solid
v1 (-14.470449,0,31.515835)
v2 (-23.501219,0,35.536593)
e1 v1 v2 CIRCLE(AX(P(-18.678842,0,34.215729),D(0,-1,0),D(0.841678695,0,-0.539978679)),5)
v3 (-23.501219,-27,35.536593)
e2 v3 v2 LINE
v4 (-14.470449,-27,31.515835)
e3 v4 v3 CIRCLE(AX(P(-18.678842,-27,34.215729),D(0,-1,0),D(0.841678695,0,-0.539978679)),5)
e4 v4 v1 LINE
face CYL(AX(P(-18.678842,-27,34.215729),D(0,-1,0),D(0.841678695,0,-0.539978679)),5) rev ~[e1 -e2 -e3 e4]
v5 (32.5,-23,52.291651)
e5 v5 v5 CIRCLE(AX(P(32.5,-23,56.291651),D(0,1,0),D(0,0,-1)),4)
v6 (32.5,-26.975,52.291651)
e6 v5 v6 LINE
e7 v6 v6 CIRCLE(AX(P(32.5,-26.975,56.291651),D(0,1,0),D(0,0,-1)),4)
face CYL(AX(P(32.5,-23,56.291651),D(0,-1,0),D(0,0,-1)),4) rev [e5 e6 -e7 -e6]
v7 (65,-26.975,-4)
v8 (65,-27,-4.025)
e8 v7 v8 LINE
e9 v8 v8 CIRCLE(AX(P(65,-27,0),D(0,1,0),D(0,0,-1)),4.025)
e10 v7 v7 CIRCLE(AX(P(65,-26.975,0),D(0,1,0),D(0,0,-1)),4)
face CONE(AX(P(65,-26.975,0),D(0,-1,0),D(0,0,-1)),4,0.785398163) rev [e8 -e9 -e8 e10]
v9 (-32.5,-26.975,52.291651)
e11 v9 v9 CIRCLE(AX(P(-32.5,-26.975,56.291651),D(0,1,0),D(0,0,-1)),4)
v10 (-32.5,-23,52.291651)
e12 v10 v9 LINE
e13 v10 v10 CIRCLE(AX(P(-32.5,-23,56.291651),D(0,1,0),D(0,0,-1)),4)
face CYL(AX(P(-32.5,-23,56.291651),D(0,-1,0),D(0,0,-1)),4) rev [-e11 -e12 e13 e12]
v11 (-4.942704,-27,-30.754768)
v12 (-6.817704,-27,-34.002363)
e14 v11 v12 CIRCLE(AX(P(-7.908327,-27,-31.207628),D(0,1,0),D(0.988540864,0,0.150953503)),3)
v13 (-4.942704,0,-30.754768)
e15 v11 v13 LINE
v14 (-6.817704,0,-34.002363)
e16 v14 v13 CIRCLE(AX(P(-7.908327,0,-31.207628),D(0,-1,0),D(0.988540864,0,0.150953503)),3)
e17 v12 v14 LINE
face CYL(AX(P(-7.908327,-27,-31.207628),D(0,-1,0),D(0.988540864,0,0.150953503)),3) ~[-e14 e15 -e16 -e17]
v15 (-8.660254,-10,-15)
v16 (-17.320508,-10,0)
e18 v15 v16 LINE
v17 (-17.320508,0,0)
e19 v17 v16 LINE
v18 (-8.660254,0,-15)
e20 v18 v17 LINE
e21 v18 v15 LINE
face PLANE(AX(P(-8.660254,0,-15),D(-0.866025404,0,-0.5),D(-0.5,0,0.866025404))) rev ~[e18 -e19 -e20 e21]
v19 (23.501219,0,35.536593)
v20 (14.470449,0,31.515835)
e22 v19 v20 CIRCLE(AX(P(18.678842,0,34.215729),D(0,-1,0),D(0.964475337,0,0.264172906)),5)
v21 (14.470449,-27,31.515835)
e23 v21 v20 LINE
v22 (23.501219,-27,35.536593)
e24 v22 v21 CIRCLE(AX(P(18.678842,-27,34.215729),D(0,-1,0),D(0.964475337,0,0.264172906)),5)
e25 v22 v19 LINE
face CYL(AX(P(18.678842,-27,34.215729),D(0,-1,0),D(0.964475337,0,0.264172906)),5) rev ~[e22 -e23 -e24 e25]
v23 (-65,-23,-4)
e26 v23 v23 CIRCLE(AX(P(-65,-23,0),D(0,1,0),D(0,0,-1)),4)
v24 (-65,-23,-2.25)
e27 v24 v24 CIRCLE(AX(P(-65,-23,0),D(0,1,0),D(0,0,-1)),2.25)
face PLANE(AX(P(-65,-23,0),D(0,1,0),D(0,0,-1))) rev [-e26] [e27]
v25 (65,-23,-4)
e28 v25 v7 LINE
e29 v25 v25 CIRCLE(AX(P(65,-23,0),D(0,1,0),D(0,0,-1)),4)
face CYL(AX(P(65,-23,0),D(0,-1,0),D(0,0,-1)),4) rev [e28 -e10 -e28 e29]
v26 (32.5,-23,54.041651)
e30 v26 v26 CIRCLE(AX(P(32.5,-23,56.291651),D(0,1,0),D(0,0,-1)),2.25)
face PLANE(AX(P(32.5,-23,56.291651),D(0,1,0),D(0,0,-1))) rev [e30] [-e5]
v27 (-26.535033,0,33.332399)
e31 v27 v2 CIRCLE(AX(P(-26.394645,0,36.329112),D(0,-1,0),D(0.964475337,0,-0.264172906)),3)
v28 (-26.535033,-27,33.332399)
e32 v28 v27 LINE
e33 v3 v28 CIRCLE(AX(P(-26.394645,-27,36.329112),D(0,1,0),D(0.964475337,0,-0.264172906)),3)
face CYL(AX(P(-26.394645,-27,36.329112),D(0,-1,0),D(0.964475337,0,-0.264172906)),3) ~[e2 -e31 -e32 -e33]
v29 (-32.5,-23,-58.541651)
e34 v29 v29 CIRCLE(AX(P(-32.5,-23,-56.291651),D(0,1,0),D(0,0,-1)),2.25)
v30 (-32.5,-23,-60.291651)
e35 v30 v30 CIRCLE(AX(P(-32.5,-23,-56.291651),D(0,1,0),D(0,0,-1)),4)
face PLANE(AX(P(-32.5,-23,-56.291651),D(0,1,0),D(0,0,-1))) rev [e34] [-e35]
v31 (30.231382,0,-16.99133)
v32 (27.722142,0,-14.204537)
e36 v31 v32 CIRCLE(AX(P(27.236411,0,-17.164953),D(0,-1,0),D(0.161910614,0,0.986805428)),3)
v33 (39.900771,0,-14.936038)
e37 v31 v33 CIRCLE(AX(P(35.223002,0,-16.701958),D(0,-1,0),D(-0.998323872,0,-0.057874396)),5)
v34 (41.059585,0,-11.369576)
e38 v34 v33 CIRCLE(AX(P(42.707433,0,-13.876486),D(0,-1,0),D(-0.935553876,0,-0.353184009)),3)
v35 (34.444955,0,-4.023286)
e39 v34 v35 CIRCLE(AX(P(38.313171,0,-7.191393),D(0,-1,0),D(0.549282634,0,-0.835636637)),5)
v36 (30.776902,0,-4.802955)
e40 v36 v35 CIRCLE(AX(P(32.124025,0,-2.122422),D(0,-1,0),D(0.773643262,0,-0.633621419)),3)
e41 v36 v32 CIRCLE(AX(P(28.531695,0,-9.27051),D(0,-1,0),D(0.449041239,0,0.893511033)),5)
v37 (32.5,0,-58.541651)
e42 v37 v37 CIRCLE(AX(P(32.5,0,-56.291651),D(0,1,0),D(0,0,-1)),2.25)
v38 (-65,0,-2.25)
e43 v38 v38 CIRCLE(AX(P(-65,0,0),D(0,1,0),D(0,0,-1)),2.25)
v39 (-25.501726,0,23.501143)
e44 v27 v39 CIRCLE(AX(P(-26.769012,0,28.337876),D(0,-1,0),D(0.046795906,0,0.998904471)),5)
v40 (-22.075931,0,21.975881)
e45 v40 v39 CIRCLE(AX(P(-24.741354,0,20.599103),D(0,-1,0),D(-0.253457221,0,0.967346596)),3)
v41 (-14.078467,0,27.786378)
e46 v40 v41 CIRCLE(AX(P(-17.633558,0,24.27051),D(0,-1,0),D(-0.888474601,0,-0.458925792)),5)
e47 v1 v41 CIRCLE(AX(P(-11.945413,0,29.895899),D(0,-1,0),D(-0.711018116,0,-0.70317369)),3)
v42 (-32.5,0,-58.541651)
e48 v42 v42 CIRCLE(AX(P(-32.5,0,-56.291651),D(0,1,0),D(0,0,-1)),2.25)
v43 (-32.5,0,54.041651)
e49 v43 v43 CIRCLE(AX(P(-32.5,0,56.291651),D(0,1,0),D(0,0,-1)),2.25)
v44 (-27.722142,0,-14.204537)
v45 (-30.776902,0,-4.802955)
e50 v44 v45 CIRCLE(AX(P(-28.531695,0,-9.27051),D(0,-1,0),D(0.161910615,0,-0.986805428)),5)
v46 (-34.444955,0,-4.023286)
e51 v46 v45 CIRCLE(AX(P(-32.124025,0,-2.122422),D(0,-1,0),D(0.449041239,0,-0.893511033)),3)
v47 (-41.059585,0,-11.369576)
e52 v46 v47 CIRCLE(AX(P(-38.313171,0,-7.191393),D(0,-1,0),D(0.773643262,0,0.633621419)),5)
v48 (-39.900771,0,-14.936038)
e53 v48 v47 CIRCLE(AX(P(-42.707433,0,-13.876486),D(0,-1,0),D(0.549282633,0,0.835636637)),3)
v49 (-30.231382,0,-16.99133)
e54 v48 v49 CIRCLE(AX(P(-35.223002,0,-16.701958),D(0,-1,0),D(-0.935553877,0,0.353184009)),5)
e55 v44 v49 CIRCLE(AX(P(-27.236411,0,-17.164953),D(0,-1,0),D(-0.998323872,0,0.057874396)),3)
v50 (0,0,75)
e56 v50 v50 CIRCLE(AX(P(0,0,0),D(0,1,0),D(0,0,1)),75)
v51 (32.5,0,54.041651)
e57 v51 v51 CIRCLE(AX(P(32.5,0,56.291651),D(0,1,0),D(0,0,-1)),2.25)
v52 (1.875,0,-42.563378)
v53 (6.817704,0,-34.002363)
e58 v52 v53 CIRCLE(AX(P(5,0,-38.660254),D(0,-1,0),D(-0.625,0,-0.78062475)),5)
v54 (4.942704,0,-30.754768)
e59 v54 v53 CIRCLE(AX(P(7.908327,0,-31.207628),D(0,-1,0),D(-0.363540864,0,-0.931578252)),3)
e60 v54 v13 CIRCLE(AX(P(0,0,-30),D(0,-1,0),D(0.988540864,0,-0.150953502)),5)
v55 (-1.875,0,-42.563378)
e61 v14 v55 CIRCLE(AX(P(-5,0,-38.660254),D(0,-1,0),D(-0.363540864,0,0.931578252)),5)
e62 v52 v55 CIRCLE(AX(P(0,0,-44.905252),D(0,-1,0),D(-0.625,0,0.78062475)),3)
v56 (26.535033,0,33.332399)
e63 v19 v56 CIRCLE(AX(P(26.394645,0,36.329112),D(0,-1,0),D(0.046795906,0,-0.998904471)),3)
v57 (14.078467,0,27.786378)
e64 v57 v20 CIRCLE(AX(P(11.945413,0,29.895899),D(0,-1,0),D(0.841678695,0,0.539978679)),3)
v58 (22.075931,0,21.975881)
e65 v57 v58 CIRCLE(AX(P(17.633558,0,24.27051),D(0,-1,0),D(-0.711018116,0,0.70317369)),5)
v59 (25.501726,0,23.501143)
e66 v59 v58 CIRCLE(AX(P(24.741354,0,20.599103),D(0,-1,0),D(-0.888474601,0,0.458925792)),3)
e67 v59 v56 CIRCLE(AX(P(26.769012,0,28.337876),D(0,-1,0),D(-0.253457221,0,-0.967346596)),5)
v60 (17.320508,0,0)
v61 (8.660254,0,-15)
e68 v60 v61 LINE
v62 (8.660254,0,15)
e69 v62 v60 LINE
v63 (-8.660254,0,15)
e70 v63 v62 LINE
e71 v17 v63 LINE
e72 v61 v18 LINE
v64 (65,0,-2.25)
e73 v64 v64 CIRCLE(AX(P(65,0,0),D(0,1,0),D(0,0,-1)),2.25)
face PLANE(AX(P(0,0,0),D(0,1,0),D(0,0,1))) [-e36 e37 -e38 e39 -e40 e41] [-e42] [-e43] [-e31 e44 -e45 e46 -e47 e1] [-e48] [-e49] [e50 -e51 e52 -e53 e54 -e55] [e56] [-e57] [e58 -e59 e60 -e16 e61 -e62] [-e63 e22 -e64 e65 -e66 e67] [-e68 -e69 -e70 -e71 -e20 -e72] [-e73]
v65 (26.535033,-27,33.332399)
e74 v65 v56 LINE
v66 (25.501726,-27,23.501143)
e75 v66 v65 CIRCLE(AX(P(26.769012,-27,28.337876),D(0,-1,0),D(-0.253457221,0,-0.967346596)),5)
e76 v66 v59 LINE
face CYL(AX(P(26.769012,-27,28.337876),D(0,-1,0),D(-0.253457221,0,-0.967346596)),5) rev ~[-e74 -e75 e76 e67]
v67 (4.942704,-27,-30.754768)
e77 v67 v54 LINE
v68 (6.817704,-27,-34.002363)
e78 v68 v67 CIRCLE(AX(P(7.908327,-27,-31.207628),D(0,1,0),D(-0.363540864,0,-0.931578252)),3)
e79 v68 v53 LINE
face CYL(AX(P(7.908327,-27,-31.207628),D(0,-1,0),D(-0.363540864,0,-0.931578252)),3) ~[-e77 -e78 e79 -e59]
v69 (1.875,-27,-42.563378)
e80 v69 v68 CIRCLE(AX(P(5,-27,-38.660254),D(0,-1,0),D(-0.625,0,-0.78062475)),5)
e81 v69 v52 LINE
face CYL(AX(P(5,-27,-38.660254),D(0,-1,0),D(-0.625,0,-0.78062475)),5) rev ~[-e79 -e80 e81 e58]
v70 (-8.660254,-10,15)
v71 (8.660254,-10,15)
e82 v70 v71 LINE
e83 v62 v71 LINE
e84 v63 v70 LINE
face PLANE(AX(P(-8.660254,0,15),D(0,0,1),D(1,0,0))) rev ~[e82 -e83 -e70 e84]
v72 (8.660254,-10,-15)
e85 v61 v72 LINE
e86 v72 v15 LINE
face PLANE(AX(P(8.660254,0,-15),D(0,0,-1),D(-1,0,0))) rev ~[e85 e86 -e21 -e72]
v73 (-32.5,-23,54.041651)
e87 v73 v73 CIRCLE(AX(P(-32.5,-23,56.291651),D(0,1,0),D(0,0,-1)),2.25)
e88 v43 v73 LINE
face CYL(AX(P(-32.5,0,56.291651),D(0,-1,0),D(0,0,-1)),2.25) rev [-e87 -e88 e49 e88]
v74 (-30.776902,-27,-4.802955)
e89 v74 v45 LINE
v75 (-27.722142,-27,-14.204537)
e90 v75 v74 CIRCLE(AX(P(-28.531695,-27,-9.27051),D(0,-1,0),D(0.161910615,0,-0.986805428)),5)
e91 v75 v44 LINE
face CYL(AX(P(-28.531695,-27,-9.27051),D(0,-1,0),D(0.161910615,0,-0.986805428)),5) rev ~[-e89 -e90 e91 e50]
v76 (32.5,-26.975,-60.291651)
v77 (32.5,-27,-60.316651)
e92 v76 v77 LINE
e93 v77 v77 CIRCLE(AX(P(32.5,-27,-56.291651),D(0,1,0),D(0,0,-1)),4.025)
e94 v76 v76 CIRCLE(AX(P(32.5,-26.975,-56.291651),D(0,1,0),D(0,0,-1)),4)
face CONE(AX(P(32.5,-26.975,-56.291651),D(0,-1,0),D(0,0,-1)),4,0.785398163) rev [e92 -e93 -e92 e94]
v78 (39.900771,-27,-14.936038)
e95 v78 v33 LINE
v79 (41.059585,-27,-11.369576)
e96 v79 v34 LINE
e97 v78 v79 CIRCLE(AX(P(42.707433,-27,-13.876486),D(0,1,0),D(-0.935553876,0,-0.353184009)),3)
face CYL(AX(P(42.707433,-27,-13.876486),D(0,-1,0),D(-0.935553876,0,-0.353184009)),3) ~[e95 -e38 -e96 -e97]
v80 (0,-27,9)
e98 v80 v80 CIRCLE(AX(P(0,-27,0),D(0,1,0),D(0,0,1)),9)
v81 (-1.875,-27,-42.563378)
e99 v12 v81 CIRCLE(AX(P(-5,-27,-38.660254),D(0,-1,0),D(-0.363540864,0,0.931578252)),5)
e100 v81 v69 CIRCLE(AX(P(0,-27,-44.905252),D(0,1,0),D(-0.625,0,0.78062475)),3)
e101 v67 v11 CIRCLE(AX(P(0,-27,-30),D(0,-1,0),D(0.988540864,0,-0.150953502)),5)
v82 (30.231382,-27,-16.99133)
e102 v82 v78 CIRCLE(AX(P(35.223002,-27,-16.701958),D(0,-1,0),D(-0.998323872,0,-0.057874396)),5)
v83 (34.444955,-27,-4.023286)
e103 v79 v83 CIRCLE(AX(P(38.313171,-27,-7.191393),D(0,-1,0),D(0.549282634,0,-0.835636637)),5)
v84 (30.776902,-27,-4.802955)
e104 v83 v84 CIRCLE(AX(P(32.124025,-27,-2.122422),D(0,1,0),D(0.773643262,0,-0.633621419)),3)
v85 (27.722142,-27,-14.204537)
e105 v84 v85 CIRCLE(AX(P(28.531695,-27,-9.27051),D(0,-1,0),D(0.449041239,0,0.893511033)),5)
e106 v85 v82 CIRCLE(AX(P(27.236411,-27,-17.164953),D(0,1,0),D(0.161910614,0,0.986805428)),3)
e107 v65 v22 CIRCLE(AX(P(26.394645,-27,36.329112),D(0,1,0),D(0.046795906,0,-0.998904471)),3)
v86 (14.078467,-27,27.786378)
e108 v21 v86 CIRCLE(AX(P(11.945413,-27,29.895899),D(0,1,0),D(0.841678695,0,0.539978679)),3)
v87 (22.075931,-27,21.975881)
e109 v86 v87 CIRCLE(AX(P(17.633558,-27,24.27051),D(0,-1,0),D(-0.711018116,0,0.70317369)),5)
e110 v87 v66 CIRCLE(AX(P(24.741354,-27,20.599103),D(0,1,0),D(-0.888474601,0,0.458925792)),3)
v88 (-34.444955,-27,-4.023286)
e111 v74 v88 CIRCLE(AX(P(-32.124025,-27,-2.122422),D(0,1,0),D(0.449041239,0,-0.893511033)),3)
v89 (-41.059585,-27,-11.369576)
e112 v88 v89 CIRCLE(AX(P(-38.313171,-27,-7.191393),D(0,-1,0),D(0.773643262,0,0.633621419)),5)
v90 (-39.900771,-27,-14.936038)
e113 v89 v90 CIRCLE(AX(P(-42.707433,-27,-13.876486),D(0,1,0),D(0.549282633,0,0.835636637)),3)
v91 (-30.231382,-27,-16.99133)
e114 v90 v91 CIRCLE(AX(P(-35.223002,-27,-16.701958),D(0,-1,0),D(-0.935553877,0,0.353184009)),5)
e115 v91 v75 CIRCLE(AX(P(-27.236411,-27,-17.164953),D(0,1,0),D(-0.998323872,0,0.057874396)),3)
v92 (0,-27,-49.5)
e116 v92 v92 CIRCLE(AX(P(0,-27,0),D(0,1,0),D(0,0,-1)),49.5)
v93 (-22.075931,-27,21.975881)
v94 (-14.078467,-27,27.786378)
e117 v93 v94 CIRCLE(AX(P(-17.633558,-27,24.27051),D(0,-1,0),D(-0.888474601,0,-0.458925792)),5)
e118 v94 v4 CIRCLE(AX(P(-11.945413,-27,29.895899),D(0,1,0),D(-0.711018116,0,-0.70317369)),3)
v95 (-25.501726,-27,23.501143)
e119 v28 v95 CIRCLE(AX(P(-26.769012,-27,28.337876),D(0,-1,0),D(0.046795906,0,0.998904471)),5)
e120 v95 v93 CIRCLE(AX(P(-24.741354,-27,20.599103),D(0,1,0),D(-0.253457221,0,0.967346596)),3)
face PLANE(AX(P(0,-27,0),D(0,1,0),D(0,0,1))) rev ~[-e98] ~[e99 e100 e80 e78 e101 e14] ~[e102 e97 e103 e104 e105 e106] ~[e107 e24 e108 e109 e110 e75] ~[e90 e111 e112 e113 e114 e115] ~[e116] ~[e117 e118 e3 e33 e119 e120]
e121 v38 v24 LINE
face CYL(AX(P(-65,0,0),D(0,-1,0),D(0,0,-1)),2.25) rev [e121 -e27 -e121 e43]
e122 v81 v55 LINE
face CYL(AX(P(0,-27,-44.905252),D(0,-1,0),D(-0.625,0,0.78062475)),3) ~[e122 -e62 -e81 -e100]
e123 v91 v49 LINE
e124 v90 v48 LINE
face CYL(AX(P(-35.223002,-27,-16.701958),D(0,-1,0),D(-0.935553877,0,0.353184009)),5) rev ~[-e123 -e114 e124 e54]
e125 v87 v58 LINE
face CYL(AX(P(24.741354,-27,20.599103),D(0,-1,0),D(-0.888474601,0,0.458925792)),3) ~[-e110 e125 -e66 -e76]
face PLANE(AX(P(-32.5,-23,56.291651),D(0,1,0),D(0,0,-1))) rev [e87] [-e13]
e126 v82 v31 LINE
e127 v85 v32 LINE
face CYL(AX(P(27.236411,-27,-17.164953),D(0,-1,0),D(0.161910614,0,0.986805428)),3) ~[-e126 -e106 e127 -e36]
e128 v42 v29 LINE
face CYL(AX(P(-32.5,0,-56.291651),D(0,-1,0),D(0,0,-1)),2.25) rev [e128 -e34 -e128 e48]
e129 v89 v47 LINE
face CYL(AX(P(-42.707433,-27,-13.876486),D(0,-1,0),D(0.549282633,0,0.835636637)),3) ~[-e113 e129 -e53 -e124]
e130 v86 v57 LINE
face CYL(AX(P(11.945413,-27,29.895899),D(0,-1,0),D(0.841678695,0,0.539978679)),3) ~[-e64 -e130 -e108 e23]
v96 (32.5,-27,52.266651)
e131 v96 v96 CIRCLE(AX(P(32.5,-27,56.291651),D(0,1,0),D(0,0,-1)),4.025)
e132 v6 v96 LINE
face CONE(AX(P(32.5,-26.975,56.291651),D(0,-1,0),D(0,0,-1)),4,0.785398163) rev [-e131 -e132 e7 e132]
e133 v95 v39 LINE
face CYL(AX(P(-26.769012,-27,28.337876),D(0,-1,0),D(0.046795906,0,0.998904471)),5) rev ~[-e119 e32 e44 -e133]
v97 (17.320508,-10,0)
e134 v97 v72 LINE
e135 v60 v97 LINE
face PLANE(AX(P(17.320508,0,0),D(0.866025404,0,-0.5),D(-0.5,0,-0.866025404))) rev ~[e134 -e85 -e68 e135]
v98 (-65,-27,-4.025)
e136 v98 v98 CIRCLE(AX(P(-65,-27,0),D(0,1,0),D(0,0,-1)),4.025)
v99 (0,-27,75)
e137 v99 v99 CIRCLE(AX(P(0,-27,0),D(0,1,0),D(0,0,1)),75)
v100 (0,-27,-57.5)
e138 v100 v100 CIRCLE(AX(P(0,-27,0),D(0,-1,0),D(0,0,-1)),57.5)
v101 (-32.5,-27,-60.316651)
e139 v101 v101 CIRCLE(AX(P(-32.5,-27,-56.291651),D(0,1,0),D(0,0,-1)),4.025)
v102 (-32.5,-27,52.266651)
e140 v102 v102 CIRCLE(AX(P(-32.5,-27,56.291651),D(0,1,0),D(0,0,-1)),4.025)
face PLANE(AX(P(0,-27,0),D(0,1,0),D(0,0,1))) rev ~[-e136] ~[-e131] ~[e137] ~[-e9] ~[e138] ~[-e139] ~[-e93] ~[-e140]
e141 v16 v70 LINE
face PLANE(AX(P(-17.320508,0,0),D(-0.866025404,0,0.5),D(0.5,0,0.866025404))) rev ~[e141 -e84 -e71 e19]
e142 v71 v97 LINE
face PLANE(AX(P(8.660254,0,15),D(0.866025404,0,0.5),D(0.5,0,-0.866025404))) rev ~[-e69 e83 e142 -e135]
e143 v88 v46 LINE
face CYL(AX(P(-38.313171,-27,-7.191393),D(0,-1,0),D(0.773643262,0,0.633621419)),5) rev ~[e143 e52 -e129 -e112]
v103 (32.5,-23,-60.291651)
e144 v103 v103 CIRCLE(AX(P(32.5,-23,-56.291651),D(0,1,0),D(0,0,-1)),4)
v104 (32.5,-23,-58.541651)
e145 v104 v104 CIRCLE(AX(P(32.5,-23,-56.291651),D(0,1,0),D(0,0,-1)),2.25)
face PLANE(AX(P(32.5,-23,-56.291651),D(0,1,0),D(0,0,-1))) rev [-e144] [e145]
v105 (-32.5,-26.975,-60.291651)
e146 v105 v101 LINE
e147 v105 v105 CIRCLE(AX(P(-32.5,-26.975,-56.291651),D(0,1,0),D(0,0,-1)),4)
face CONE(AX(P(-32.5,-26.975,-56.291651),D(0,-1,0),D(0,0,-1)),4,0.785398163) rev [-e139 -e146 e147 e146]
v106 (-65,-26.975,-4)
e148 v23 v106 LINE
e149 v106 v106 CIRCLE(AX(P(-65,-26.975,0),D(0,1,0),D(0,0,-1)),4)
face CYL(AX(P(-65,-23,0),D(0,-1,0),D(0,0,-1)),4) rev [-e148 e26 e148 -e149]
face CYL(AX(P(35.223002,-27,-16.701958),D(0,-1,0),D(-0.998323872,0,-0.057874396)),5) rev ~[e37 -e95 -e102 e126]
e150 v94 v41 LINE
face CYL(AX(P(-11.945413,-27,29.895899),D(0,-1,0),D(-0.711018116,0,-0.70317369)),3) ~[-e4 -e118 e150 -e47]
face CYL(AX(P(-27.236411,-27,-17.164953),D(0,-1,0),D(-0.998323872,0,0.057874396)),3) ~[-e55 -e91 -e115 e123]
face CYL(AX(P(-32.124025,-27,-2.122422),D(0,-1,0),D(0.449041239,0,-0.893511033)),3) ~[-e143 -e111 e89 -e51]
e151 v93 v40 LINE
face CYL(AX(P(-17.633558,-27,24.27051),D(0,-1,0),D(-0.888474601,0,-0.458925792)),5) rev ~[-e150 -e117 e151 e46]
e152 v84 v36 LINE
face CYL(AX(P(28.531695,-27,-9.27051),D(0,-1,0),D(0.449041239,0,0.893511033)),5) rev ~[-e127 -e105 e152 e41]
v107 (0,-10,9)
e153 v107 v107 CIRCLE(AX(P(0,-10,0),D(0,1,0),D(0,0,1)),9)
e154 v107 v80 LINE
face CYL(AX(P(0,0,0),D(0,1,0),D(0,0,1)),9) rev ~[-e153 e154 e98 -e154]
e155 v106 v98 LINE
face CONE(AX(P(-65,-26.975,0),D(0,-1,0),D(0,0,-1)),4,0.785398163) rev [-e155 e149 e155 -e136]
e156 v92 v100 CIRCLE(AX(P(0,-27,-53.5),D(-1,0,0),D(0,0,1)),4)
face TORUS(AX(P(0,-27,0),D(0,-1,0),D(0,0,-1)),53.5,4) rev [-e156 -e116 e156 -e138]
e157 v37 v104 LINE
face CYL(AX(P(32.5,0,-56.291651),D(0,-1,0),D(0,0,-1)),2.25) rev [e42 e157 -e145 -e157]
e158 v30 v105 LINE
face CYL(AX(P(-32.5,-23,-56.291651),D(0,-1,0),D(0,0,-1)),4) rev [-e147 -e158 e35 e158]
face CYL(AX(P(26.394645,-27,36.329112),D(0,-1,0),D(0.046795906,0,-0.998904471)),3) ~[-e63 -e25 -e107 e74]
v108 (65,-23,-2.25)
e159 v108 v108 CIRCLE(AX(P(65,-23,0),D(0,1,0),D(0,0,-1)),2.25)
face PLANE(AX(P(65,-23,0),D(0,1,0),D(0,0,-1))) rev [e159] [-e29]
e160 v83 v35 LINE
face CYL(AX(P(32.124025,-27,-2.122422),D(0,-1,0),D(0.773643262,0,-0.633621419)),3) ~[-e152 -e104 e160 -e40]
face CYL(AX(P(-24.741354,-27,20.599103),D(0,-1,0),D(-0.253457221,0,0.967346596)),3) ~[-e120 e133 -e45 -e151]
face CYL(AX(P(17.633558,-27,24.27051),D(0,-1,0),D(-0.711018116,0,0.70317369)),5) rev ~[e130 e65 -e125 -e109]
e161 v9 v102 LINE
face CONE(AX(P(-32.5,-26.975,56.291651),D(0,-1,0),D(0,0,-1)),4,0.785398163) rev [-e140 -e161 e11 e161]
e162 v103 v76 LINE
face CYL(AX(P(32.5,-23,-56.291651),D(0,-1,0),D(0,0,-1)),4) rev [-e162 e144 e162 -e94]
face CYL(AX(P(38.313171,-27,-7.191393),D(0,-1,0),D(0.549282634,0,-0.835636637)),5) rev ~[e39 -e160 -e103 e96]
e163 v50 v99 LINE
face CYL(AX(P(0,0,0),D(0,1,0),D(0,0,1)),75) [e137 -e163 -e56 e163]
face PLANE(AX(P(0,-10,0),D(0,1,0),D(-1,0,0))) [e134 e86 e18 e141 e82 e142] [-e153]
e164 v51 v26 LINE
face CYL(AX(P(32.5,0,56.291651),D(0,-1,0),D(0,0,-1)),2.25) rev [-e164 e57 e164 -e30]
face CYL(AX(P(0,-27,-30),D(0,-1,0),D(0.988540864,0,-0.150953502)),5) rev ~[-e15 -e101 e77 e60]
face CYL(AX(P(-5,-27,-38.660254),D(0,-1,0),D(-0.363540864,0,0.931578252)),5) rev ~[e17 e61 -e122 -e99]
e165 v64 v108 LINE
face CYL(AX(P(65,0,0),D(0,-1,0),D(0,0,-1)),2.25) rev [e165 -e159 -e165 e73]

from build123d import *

# Parameters (mm, degrees)
SKETCH1_R                             = 75
BLOCO_DEPTH                           = 27
SKETCH2_R                             = 9
FURO_CENTRAL_18_PASSANTE_DEPTH        = 110.448618082
SKETCH2_3_R                           = 9
ENCAIXE_DO_EIXO_DEPTH                 = 10
REBAIXO_FUROS_DE_FIXA_O_M4_AT_2_COUNT = 2
REBAIXO_FUROS_DE_FIXA_O_M4_AT_2_PITCH = 65
REBAIXO_FUROS_DE_FIXA_O_M4_AT_3_COUNT = 2
REBAIXO_FUROS_DE_FIXA_O_M4_AT_3_PITCH = 112.583302492
REBAIXO_FUROS_DE_FIXA_O_M4_AT_4_COUNT = 2
REBAIXO_FUROS_DE_FIXA_O_M4_AT_4_PITCH = 130
REBAIXO_FUROS_DE_FIXA_O_M4_AT_5_COUNT = 2
REBAIXO_FUROS_DE_FIXA_O_M4_AT_5_PITCH = 112.583302492
REBAIXO_FUROS_DE_FIXA_O_M4_AT_6_COUNT = 2
REBAIXO_FUROS_DE_FIXA_O_M4_AT_6_PITCH = 65
RASGO_DIMENSIONADO_DEPTH              = 110.448618082
RASGOS_COUNT                          = 5
SKETCH7_R                             = 4


with BuildPart() as part:
    # Sketch1 → Bloco (new body)
    with BuildSketch(Plane(origin=(0, 0, 0), x_dir=(1, 0, 0), z_dir=(0, 1, 0))):
        Circle(SKETCH1_R)
    extrude(amount=-BLOCO_DEPTH)

    # Sketch2 → Furo Central - Ø18 Passante (cut, through all)
    with BuildSketch(Plane(origin=(0, 0, 0), x_dir=(-1, 0, 0), z_dir=(0, 1, 0))):
        Circle(SKETCH2_R)
    extrude(amount=-FURO_CENTRAL_18_PASSANTE_DEPTH, mode=Mode.SUBTRACT)

    # Sketch2<3> → Encaixe do Eixo (cut)
    with BuildSketch(Plane(origin=(0, 0, 0), x_dir=(-1, 0, 0), z_dir=(0, 1, 0))):
        Polygon((-8.660254038, 15), (-17.320508076, 0), (-8.660254038, -15), (8.660254038, -15), (17.320508076, 0), (8.660254038, 15), align=None)
        Circle(SKETCH2_3_R, mode=Mode.SUBTRACT)
    extrude(amount=-ENCAIXE_DO_EIXO_DEPTH, mode=Mode.SUBTRACT)

    # Sketch5 → Rebaixo - Furos de Fixação M4 (revolve, cut)
    with BuildSketch(Plane(origin=(32.5, -27, -56.291651246), x_dir=(0, 0, -1), z_dir=(1, 0, 0))):
        Polygon((0, 0), (0, 27), (2.25, 27), (2.25, 4), (4, 4), (4, 0.025), (4.025, 0), align=None)
    rebaixo_furos_de_fixa_o_m4 = revolve(axis=Axis((32.5, -33.35, -56.291651246), (0, 1, 0)), mode=Mode.SUBTRACT)

    # Rebaixo - Furos de Fixação M4 at 2: Rebaixo - Furos de Fixação M4 ×2
    with Locations(*[(-i * REBAIXO_FUROS_DE_FIXA_O_M4_AT_2_PITCH, 0, 0) for i in range(1, REBAIXO_FUROS_DE_FIXA_O_M4_AT_2_COUNT)]):
        add(rebaixo_furos_de_fixa_o_m4, mode=Mode.SUBTRACT)

    # Rebaixo - Furos de Fixação M4 at 3: Rebaixo - Furos de Fixação M4 ×2
    with Locations(*[Vector(-0.866025403784438, 0, 0.5000000000000011) * (i * REBAIXO_FUROS_DE_FIXA_O_M4_AT_3_PITCH) for i in range(1, REBAIXO_FUROS_DE_FIXA_O_M4_AT_3_COUNT)]):
        add(rebaixo_furos_de_fixa_o_m4, mode=Mode.SUBTRACT)

    # Rebaixo - Furos de Fixação M4 at 4: Rebaixo - Furos de Fixação M4 ×2
    with Locations(*[Vector(-0.4999999999999989, 0, 0.8660254037844394) * (i * REBAIXO_FUROS_DE_FIXA_O_M4_AT_4_PITCH) for i in range(1, REBAIXO_FUROS_DE_FIXA_O_M4_AT_4_COUNT)]):
        add(rebaixo_furos_de_fixa_o_m4, mode=Mode.SUBTRACT)

    # Rebaixo - Furos de Fixação M4 at 5: Rebaixo - Furos de Fixação M4 ×2
    with Locations(*[(0, 0, i * REBAIXO_FUROS_DE_FIXA_O_M4_AT_5_PITCH) for i in range(1, REBAIXO_FUROS_DE_FIXA_O_M4_AT_5_COUNT)]):
        add(rebaixo_furos_de_fixa_o_m4, mode=Mode.SUBTRACT)

    # Rebaixo - Furos de Fixação M4 at 6: Rebaixo - Furos de Fixação M4 ×2
    with Locations(*[Vector(0.5000000000000009, 0, 0.8660254037844382) * (i * REBAIXO_FUROS_DE_FIXA_O_M4_AT_6_PITCH) for i in range(1, REBAIXO_FUROS_DE_FIXA_O_M4_AT_6_COUNT)]):
        add(rebaixo_furos_de_fixa_o_m4, mode=Mode.SUBTRACT)

    # Sketch6 → Rasgo Dimensionado (cut, through all)
    with BuildSketch(Plane(origin=(0, -27, 0), x_dir=(-1, 0, 0), z_dir=(0, -1, 0))):
        with BuildLine():
            ThreePointArc((-4.942704321, 30.754767512), (0, 25), (4.942704321, 30.754767512))
            ThreePointArc((4.942704321, 30.754767512), (5.310250702, 32.70762802), (6.817704321, 34.002362777))
            ThreePointArc((6.817704321, 34.002362777), (9.330127019, 41.160254038), (1.875, 42.563377787))
            ThreePointArc((1.875, 42.563377787), (0, 41.905252036), (-1.875, 42.563377787))
            ThreePointArc((-1.875, 42.563377787), (-9.330127019, 41.160254038), (-6.817704321, 34.002362777))
            ThreePointArc((-6.817704321, 34.002362777), (-5.310250702, 32.70762802), (-4.942704321, 30.754767512))
        make_face()
    rasgo_dimensionado = extrude(amount=-RASGO_DIMENSIONADO_DEPTH, mode=Mode.SUBTRACT)

    # Rasgos: Rasgo Dimensionado ×5 about axis
    rasgos_axis = Axis((0, -27, 0), (0, 1, 0))
    for i in range(1, RASGOS_COUNT):
        add(rasgo_dimensionado.rotate(rasgos_axis, i * 360 / RASGOS_COUNT), mode=Mode.SUBTRACT)

    # Sketch7 → Canal - Raio de 4mm (revolve, cut)
    with BuildSketch(Plane(origin=(0, 0, 0), x_dir=(0, 0, -1), z_dir=(1, 0, 0))):
        with Locations((-53.5, -27)):
            Circle(SKETCH7_R)
    revolve(axis=Axis((0, -27, 0), (0, 1, 0)), mode=Mode.SUBTRACT)


solid = part.part
